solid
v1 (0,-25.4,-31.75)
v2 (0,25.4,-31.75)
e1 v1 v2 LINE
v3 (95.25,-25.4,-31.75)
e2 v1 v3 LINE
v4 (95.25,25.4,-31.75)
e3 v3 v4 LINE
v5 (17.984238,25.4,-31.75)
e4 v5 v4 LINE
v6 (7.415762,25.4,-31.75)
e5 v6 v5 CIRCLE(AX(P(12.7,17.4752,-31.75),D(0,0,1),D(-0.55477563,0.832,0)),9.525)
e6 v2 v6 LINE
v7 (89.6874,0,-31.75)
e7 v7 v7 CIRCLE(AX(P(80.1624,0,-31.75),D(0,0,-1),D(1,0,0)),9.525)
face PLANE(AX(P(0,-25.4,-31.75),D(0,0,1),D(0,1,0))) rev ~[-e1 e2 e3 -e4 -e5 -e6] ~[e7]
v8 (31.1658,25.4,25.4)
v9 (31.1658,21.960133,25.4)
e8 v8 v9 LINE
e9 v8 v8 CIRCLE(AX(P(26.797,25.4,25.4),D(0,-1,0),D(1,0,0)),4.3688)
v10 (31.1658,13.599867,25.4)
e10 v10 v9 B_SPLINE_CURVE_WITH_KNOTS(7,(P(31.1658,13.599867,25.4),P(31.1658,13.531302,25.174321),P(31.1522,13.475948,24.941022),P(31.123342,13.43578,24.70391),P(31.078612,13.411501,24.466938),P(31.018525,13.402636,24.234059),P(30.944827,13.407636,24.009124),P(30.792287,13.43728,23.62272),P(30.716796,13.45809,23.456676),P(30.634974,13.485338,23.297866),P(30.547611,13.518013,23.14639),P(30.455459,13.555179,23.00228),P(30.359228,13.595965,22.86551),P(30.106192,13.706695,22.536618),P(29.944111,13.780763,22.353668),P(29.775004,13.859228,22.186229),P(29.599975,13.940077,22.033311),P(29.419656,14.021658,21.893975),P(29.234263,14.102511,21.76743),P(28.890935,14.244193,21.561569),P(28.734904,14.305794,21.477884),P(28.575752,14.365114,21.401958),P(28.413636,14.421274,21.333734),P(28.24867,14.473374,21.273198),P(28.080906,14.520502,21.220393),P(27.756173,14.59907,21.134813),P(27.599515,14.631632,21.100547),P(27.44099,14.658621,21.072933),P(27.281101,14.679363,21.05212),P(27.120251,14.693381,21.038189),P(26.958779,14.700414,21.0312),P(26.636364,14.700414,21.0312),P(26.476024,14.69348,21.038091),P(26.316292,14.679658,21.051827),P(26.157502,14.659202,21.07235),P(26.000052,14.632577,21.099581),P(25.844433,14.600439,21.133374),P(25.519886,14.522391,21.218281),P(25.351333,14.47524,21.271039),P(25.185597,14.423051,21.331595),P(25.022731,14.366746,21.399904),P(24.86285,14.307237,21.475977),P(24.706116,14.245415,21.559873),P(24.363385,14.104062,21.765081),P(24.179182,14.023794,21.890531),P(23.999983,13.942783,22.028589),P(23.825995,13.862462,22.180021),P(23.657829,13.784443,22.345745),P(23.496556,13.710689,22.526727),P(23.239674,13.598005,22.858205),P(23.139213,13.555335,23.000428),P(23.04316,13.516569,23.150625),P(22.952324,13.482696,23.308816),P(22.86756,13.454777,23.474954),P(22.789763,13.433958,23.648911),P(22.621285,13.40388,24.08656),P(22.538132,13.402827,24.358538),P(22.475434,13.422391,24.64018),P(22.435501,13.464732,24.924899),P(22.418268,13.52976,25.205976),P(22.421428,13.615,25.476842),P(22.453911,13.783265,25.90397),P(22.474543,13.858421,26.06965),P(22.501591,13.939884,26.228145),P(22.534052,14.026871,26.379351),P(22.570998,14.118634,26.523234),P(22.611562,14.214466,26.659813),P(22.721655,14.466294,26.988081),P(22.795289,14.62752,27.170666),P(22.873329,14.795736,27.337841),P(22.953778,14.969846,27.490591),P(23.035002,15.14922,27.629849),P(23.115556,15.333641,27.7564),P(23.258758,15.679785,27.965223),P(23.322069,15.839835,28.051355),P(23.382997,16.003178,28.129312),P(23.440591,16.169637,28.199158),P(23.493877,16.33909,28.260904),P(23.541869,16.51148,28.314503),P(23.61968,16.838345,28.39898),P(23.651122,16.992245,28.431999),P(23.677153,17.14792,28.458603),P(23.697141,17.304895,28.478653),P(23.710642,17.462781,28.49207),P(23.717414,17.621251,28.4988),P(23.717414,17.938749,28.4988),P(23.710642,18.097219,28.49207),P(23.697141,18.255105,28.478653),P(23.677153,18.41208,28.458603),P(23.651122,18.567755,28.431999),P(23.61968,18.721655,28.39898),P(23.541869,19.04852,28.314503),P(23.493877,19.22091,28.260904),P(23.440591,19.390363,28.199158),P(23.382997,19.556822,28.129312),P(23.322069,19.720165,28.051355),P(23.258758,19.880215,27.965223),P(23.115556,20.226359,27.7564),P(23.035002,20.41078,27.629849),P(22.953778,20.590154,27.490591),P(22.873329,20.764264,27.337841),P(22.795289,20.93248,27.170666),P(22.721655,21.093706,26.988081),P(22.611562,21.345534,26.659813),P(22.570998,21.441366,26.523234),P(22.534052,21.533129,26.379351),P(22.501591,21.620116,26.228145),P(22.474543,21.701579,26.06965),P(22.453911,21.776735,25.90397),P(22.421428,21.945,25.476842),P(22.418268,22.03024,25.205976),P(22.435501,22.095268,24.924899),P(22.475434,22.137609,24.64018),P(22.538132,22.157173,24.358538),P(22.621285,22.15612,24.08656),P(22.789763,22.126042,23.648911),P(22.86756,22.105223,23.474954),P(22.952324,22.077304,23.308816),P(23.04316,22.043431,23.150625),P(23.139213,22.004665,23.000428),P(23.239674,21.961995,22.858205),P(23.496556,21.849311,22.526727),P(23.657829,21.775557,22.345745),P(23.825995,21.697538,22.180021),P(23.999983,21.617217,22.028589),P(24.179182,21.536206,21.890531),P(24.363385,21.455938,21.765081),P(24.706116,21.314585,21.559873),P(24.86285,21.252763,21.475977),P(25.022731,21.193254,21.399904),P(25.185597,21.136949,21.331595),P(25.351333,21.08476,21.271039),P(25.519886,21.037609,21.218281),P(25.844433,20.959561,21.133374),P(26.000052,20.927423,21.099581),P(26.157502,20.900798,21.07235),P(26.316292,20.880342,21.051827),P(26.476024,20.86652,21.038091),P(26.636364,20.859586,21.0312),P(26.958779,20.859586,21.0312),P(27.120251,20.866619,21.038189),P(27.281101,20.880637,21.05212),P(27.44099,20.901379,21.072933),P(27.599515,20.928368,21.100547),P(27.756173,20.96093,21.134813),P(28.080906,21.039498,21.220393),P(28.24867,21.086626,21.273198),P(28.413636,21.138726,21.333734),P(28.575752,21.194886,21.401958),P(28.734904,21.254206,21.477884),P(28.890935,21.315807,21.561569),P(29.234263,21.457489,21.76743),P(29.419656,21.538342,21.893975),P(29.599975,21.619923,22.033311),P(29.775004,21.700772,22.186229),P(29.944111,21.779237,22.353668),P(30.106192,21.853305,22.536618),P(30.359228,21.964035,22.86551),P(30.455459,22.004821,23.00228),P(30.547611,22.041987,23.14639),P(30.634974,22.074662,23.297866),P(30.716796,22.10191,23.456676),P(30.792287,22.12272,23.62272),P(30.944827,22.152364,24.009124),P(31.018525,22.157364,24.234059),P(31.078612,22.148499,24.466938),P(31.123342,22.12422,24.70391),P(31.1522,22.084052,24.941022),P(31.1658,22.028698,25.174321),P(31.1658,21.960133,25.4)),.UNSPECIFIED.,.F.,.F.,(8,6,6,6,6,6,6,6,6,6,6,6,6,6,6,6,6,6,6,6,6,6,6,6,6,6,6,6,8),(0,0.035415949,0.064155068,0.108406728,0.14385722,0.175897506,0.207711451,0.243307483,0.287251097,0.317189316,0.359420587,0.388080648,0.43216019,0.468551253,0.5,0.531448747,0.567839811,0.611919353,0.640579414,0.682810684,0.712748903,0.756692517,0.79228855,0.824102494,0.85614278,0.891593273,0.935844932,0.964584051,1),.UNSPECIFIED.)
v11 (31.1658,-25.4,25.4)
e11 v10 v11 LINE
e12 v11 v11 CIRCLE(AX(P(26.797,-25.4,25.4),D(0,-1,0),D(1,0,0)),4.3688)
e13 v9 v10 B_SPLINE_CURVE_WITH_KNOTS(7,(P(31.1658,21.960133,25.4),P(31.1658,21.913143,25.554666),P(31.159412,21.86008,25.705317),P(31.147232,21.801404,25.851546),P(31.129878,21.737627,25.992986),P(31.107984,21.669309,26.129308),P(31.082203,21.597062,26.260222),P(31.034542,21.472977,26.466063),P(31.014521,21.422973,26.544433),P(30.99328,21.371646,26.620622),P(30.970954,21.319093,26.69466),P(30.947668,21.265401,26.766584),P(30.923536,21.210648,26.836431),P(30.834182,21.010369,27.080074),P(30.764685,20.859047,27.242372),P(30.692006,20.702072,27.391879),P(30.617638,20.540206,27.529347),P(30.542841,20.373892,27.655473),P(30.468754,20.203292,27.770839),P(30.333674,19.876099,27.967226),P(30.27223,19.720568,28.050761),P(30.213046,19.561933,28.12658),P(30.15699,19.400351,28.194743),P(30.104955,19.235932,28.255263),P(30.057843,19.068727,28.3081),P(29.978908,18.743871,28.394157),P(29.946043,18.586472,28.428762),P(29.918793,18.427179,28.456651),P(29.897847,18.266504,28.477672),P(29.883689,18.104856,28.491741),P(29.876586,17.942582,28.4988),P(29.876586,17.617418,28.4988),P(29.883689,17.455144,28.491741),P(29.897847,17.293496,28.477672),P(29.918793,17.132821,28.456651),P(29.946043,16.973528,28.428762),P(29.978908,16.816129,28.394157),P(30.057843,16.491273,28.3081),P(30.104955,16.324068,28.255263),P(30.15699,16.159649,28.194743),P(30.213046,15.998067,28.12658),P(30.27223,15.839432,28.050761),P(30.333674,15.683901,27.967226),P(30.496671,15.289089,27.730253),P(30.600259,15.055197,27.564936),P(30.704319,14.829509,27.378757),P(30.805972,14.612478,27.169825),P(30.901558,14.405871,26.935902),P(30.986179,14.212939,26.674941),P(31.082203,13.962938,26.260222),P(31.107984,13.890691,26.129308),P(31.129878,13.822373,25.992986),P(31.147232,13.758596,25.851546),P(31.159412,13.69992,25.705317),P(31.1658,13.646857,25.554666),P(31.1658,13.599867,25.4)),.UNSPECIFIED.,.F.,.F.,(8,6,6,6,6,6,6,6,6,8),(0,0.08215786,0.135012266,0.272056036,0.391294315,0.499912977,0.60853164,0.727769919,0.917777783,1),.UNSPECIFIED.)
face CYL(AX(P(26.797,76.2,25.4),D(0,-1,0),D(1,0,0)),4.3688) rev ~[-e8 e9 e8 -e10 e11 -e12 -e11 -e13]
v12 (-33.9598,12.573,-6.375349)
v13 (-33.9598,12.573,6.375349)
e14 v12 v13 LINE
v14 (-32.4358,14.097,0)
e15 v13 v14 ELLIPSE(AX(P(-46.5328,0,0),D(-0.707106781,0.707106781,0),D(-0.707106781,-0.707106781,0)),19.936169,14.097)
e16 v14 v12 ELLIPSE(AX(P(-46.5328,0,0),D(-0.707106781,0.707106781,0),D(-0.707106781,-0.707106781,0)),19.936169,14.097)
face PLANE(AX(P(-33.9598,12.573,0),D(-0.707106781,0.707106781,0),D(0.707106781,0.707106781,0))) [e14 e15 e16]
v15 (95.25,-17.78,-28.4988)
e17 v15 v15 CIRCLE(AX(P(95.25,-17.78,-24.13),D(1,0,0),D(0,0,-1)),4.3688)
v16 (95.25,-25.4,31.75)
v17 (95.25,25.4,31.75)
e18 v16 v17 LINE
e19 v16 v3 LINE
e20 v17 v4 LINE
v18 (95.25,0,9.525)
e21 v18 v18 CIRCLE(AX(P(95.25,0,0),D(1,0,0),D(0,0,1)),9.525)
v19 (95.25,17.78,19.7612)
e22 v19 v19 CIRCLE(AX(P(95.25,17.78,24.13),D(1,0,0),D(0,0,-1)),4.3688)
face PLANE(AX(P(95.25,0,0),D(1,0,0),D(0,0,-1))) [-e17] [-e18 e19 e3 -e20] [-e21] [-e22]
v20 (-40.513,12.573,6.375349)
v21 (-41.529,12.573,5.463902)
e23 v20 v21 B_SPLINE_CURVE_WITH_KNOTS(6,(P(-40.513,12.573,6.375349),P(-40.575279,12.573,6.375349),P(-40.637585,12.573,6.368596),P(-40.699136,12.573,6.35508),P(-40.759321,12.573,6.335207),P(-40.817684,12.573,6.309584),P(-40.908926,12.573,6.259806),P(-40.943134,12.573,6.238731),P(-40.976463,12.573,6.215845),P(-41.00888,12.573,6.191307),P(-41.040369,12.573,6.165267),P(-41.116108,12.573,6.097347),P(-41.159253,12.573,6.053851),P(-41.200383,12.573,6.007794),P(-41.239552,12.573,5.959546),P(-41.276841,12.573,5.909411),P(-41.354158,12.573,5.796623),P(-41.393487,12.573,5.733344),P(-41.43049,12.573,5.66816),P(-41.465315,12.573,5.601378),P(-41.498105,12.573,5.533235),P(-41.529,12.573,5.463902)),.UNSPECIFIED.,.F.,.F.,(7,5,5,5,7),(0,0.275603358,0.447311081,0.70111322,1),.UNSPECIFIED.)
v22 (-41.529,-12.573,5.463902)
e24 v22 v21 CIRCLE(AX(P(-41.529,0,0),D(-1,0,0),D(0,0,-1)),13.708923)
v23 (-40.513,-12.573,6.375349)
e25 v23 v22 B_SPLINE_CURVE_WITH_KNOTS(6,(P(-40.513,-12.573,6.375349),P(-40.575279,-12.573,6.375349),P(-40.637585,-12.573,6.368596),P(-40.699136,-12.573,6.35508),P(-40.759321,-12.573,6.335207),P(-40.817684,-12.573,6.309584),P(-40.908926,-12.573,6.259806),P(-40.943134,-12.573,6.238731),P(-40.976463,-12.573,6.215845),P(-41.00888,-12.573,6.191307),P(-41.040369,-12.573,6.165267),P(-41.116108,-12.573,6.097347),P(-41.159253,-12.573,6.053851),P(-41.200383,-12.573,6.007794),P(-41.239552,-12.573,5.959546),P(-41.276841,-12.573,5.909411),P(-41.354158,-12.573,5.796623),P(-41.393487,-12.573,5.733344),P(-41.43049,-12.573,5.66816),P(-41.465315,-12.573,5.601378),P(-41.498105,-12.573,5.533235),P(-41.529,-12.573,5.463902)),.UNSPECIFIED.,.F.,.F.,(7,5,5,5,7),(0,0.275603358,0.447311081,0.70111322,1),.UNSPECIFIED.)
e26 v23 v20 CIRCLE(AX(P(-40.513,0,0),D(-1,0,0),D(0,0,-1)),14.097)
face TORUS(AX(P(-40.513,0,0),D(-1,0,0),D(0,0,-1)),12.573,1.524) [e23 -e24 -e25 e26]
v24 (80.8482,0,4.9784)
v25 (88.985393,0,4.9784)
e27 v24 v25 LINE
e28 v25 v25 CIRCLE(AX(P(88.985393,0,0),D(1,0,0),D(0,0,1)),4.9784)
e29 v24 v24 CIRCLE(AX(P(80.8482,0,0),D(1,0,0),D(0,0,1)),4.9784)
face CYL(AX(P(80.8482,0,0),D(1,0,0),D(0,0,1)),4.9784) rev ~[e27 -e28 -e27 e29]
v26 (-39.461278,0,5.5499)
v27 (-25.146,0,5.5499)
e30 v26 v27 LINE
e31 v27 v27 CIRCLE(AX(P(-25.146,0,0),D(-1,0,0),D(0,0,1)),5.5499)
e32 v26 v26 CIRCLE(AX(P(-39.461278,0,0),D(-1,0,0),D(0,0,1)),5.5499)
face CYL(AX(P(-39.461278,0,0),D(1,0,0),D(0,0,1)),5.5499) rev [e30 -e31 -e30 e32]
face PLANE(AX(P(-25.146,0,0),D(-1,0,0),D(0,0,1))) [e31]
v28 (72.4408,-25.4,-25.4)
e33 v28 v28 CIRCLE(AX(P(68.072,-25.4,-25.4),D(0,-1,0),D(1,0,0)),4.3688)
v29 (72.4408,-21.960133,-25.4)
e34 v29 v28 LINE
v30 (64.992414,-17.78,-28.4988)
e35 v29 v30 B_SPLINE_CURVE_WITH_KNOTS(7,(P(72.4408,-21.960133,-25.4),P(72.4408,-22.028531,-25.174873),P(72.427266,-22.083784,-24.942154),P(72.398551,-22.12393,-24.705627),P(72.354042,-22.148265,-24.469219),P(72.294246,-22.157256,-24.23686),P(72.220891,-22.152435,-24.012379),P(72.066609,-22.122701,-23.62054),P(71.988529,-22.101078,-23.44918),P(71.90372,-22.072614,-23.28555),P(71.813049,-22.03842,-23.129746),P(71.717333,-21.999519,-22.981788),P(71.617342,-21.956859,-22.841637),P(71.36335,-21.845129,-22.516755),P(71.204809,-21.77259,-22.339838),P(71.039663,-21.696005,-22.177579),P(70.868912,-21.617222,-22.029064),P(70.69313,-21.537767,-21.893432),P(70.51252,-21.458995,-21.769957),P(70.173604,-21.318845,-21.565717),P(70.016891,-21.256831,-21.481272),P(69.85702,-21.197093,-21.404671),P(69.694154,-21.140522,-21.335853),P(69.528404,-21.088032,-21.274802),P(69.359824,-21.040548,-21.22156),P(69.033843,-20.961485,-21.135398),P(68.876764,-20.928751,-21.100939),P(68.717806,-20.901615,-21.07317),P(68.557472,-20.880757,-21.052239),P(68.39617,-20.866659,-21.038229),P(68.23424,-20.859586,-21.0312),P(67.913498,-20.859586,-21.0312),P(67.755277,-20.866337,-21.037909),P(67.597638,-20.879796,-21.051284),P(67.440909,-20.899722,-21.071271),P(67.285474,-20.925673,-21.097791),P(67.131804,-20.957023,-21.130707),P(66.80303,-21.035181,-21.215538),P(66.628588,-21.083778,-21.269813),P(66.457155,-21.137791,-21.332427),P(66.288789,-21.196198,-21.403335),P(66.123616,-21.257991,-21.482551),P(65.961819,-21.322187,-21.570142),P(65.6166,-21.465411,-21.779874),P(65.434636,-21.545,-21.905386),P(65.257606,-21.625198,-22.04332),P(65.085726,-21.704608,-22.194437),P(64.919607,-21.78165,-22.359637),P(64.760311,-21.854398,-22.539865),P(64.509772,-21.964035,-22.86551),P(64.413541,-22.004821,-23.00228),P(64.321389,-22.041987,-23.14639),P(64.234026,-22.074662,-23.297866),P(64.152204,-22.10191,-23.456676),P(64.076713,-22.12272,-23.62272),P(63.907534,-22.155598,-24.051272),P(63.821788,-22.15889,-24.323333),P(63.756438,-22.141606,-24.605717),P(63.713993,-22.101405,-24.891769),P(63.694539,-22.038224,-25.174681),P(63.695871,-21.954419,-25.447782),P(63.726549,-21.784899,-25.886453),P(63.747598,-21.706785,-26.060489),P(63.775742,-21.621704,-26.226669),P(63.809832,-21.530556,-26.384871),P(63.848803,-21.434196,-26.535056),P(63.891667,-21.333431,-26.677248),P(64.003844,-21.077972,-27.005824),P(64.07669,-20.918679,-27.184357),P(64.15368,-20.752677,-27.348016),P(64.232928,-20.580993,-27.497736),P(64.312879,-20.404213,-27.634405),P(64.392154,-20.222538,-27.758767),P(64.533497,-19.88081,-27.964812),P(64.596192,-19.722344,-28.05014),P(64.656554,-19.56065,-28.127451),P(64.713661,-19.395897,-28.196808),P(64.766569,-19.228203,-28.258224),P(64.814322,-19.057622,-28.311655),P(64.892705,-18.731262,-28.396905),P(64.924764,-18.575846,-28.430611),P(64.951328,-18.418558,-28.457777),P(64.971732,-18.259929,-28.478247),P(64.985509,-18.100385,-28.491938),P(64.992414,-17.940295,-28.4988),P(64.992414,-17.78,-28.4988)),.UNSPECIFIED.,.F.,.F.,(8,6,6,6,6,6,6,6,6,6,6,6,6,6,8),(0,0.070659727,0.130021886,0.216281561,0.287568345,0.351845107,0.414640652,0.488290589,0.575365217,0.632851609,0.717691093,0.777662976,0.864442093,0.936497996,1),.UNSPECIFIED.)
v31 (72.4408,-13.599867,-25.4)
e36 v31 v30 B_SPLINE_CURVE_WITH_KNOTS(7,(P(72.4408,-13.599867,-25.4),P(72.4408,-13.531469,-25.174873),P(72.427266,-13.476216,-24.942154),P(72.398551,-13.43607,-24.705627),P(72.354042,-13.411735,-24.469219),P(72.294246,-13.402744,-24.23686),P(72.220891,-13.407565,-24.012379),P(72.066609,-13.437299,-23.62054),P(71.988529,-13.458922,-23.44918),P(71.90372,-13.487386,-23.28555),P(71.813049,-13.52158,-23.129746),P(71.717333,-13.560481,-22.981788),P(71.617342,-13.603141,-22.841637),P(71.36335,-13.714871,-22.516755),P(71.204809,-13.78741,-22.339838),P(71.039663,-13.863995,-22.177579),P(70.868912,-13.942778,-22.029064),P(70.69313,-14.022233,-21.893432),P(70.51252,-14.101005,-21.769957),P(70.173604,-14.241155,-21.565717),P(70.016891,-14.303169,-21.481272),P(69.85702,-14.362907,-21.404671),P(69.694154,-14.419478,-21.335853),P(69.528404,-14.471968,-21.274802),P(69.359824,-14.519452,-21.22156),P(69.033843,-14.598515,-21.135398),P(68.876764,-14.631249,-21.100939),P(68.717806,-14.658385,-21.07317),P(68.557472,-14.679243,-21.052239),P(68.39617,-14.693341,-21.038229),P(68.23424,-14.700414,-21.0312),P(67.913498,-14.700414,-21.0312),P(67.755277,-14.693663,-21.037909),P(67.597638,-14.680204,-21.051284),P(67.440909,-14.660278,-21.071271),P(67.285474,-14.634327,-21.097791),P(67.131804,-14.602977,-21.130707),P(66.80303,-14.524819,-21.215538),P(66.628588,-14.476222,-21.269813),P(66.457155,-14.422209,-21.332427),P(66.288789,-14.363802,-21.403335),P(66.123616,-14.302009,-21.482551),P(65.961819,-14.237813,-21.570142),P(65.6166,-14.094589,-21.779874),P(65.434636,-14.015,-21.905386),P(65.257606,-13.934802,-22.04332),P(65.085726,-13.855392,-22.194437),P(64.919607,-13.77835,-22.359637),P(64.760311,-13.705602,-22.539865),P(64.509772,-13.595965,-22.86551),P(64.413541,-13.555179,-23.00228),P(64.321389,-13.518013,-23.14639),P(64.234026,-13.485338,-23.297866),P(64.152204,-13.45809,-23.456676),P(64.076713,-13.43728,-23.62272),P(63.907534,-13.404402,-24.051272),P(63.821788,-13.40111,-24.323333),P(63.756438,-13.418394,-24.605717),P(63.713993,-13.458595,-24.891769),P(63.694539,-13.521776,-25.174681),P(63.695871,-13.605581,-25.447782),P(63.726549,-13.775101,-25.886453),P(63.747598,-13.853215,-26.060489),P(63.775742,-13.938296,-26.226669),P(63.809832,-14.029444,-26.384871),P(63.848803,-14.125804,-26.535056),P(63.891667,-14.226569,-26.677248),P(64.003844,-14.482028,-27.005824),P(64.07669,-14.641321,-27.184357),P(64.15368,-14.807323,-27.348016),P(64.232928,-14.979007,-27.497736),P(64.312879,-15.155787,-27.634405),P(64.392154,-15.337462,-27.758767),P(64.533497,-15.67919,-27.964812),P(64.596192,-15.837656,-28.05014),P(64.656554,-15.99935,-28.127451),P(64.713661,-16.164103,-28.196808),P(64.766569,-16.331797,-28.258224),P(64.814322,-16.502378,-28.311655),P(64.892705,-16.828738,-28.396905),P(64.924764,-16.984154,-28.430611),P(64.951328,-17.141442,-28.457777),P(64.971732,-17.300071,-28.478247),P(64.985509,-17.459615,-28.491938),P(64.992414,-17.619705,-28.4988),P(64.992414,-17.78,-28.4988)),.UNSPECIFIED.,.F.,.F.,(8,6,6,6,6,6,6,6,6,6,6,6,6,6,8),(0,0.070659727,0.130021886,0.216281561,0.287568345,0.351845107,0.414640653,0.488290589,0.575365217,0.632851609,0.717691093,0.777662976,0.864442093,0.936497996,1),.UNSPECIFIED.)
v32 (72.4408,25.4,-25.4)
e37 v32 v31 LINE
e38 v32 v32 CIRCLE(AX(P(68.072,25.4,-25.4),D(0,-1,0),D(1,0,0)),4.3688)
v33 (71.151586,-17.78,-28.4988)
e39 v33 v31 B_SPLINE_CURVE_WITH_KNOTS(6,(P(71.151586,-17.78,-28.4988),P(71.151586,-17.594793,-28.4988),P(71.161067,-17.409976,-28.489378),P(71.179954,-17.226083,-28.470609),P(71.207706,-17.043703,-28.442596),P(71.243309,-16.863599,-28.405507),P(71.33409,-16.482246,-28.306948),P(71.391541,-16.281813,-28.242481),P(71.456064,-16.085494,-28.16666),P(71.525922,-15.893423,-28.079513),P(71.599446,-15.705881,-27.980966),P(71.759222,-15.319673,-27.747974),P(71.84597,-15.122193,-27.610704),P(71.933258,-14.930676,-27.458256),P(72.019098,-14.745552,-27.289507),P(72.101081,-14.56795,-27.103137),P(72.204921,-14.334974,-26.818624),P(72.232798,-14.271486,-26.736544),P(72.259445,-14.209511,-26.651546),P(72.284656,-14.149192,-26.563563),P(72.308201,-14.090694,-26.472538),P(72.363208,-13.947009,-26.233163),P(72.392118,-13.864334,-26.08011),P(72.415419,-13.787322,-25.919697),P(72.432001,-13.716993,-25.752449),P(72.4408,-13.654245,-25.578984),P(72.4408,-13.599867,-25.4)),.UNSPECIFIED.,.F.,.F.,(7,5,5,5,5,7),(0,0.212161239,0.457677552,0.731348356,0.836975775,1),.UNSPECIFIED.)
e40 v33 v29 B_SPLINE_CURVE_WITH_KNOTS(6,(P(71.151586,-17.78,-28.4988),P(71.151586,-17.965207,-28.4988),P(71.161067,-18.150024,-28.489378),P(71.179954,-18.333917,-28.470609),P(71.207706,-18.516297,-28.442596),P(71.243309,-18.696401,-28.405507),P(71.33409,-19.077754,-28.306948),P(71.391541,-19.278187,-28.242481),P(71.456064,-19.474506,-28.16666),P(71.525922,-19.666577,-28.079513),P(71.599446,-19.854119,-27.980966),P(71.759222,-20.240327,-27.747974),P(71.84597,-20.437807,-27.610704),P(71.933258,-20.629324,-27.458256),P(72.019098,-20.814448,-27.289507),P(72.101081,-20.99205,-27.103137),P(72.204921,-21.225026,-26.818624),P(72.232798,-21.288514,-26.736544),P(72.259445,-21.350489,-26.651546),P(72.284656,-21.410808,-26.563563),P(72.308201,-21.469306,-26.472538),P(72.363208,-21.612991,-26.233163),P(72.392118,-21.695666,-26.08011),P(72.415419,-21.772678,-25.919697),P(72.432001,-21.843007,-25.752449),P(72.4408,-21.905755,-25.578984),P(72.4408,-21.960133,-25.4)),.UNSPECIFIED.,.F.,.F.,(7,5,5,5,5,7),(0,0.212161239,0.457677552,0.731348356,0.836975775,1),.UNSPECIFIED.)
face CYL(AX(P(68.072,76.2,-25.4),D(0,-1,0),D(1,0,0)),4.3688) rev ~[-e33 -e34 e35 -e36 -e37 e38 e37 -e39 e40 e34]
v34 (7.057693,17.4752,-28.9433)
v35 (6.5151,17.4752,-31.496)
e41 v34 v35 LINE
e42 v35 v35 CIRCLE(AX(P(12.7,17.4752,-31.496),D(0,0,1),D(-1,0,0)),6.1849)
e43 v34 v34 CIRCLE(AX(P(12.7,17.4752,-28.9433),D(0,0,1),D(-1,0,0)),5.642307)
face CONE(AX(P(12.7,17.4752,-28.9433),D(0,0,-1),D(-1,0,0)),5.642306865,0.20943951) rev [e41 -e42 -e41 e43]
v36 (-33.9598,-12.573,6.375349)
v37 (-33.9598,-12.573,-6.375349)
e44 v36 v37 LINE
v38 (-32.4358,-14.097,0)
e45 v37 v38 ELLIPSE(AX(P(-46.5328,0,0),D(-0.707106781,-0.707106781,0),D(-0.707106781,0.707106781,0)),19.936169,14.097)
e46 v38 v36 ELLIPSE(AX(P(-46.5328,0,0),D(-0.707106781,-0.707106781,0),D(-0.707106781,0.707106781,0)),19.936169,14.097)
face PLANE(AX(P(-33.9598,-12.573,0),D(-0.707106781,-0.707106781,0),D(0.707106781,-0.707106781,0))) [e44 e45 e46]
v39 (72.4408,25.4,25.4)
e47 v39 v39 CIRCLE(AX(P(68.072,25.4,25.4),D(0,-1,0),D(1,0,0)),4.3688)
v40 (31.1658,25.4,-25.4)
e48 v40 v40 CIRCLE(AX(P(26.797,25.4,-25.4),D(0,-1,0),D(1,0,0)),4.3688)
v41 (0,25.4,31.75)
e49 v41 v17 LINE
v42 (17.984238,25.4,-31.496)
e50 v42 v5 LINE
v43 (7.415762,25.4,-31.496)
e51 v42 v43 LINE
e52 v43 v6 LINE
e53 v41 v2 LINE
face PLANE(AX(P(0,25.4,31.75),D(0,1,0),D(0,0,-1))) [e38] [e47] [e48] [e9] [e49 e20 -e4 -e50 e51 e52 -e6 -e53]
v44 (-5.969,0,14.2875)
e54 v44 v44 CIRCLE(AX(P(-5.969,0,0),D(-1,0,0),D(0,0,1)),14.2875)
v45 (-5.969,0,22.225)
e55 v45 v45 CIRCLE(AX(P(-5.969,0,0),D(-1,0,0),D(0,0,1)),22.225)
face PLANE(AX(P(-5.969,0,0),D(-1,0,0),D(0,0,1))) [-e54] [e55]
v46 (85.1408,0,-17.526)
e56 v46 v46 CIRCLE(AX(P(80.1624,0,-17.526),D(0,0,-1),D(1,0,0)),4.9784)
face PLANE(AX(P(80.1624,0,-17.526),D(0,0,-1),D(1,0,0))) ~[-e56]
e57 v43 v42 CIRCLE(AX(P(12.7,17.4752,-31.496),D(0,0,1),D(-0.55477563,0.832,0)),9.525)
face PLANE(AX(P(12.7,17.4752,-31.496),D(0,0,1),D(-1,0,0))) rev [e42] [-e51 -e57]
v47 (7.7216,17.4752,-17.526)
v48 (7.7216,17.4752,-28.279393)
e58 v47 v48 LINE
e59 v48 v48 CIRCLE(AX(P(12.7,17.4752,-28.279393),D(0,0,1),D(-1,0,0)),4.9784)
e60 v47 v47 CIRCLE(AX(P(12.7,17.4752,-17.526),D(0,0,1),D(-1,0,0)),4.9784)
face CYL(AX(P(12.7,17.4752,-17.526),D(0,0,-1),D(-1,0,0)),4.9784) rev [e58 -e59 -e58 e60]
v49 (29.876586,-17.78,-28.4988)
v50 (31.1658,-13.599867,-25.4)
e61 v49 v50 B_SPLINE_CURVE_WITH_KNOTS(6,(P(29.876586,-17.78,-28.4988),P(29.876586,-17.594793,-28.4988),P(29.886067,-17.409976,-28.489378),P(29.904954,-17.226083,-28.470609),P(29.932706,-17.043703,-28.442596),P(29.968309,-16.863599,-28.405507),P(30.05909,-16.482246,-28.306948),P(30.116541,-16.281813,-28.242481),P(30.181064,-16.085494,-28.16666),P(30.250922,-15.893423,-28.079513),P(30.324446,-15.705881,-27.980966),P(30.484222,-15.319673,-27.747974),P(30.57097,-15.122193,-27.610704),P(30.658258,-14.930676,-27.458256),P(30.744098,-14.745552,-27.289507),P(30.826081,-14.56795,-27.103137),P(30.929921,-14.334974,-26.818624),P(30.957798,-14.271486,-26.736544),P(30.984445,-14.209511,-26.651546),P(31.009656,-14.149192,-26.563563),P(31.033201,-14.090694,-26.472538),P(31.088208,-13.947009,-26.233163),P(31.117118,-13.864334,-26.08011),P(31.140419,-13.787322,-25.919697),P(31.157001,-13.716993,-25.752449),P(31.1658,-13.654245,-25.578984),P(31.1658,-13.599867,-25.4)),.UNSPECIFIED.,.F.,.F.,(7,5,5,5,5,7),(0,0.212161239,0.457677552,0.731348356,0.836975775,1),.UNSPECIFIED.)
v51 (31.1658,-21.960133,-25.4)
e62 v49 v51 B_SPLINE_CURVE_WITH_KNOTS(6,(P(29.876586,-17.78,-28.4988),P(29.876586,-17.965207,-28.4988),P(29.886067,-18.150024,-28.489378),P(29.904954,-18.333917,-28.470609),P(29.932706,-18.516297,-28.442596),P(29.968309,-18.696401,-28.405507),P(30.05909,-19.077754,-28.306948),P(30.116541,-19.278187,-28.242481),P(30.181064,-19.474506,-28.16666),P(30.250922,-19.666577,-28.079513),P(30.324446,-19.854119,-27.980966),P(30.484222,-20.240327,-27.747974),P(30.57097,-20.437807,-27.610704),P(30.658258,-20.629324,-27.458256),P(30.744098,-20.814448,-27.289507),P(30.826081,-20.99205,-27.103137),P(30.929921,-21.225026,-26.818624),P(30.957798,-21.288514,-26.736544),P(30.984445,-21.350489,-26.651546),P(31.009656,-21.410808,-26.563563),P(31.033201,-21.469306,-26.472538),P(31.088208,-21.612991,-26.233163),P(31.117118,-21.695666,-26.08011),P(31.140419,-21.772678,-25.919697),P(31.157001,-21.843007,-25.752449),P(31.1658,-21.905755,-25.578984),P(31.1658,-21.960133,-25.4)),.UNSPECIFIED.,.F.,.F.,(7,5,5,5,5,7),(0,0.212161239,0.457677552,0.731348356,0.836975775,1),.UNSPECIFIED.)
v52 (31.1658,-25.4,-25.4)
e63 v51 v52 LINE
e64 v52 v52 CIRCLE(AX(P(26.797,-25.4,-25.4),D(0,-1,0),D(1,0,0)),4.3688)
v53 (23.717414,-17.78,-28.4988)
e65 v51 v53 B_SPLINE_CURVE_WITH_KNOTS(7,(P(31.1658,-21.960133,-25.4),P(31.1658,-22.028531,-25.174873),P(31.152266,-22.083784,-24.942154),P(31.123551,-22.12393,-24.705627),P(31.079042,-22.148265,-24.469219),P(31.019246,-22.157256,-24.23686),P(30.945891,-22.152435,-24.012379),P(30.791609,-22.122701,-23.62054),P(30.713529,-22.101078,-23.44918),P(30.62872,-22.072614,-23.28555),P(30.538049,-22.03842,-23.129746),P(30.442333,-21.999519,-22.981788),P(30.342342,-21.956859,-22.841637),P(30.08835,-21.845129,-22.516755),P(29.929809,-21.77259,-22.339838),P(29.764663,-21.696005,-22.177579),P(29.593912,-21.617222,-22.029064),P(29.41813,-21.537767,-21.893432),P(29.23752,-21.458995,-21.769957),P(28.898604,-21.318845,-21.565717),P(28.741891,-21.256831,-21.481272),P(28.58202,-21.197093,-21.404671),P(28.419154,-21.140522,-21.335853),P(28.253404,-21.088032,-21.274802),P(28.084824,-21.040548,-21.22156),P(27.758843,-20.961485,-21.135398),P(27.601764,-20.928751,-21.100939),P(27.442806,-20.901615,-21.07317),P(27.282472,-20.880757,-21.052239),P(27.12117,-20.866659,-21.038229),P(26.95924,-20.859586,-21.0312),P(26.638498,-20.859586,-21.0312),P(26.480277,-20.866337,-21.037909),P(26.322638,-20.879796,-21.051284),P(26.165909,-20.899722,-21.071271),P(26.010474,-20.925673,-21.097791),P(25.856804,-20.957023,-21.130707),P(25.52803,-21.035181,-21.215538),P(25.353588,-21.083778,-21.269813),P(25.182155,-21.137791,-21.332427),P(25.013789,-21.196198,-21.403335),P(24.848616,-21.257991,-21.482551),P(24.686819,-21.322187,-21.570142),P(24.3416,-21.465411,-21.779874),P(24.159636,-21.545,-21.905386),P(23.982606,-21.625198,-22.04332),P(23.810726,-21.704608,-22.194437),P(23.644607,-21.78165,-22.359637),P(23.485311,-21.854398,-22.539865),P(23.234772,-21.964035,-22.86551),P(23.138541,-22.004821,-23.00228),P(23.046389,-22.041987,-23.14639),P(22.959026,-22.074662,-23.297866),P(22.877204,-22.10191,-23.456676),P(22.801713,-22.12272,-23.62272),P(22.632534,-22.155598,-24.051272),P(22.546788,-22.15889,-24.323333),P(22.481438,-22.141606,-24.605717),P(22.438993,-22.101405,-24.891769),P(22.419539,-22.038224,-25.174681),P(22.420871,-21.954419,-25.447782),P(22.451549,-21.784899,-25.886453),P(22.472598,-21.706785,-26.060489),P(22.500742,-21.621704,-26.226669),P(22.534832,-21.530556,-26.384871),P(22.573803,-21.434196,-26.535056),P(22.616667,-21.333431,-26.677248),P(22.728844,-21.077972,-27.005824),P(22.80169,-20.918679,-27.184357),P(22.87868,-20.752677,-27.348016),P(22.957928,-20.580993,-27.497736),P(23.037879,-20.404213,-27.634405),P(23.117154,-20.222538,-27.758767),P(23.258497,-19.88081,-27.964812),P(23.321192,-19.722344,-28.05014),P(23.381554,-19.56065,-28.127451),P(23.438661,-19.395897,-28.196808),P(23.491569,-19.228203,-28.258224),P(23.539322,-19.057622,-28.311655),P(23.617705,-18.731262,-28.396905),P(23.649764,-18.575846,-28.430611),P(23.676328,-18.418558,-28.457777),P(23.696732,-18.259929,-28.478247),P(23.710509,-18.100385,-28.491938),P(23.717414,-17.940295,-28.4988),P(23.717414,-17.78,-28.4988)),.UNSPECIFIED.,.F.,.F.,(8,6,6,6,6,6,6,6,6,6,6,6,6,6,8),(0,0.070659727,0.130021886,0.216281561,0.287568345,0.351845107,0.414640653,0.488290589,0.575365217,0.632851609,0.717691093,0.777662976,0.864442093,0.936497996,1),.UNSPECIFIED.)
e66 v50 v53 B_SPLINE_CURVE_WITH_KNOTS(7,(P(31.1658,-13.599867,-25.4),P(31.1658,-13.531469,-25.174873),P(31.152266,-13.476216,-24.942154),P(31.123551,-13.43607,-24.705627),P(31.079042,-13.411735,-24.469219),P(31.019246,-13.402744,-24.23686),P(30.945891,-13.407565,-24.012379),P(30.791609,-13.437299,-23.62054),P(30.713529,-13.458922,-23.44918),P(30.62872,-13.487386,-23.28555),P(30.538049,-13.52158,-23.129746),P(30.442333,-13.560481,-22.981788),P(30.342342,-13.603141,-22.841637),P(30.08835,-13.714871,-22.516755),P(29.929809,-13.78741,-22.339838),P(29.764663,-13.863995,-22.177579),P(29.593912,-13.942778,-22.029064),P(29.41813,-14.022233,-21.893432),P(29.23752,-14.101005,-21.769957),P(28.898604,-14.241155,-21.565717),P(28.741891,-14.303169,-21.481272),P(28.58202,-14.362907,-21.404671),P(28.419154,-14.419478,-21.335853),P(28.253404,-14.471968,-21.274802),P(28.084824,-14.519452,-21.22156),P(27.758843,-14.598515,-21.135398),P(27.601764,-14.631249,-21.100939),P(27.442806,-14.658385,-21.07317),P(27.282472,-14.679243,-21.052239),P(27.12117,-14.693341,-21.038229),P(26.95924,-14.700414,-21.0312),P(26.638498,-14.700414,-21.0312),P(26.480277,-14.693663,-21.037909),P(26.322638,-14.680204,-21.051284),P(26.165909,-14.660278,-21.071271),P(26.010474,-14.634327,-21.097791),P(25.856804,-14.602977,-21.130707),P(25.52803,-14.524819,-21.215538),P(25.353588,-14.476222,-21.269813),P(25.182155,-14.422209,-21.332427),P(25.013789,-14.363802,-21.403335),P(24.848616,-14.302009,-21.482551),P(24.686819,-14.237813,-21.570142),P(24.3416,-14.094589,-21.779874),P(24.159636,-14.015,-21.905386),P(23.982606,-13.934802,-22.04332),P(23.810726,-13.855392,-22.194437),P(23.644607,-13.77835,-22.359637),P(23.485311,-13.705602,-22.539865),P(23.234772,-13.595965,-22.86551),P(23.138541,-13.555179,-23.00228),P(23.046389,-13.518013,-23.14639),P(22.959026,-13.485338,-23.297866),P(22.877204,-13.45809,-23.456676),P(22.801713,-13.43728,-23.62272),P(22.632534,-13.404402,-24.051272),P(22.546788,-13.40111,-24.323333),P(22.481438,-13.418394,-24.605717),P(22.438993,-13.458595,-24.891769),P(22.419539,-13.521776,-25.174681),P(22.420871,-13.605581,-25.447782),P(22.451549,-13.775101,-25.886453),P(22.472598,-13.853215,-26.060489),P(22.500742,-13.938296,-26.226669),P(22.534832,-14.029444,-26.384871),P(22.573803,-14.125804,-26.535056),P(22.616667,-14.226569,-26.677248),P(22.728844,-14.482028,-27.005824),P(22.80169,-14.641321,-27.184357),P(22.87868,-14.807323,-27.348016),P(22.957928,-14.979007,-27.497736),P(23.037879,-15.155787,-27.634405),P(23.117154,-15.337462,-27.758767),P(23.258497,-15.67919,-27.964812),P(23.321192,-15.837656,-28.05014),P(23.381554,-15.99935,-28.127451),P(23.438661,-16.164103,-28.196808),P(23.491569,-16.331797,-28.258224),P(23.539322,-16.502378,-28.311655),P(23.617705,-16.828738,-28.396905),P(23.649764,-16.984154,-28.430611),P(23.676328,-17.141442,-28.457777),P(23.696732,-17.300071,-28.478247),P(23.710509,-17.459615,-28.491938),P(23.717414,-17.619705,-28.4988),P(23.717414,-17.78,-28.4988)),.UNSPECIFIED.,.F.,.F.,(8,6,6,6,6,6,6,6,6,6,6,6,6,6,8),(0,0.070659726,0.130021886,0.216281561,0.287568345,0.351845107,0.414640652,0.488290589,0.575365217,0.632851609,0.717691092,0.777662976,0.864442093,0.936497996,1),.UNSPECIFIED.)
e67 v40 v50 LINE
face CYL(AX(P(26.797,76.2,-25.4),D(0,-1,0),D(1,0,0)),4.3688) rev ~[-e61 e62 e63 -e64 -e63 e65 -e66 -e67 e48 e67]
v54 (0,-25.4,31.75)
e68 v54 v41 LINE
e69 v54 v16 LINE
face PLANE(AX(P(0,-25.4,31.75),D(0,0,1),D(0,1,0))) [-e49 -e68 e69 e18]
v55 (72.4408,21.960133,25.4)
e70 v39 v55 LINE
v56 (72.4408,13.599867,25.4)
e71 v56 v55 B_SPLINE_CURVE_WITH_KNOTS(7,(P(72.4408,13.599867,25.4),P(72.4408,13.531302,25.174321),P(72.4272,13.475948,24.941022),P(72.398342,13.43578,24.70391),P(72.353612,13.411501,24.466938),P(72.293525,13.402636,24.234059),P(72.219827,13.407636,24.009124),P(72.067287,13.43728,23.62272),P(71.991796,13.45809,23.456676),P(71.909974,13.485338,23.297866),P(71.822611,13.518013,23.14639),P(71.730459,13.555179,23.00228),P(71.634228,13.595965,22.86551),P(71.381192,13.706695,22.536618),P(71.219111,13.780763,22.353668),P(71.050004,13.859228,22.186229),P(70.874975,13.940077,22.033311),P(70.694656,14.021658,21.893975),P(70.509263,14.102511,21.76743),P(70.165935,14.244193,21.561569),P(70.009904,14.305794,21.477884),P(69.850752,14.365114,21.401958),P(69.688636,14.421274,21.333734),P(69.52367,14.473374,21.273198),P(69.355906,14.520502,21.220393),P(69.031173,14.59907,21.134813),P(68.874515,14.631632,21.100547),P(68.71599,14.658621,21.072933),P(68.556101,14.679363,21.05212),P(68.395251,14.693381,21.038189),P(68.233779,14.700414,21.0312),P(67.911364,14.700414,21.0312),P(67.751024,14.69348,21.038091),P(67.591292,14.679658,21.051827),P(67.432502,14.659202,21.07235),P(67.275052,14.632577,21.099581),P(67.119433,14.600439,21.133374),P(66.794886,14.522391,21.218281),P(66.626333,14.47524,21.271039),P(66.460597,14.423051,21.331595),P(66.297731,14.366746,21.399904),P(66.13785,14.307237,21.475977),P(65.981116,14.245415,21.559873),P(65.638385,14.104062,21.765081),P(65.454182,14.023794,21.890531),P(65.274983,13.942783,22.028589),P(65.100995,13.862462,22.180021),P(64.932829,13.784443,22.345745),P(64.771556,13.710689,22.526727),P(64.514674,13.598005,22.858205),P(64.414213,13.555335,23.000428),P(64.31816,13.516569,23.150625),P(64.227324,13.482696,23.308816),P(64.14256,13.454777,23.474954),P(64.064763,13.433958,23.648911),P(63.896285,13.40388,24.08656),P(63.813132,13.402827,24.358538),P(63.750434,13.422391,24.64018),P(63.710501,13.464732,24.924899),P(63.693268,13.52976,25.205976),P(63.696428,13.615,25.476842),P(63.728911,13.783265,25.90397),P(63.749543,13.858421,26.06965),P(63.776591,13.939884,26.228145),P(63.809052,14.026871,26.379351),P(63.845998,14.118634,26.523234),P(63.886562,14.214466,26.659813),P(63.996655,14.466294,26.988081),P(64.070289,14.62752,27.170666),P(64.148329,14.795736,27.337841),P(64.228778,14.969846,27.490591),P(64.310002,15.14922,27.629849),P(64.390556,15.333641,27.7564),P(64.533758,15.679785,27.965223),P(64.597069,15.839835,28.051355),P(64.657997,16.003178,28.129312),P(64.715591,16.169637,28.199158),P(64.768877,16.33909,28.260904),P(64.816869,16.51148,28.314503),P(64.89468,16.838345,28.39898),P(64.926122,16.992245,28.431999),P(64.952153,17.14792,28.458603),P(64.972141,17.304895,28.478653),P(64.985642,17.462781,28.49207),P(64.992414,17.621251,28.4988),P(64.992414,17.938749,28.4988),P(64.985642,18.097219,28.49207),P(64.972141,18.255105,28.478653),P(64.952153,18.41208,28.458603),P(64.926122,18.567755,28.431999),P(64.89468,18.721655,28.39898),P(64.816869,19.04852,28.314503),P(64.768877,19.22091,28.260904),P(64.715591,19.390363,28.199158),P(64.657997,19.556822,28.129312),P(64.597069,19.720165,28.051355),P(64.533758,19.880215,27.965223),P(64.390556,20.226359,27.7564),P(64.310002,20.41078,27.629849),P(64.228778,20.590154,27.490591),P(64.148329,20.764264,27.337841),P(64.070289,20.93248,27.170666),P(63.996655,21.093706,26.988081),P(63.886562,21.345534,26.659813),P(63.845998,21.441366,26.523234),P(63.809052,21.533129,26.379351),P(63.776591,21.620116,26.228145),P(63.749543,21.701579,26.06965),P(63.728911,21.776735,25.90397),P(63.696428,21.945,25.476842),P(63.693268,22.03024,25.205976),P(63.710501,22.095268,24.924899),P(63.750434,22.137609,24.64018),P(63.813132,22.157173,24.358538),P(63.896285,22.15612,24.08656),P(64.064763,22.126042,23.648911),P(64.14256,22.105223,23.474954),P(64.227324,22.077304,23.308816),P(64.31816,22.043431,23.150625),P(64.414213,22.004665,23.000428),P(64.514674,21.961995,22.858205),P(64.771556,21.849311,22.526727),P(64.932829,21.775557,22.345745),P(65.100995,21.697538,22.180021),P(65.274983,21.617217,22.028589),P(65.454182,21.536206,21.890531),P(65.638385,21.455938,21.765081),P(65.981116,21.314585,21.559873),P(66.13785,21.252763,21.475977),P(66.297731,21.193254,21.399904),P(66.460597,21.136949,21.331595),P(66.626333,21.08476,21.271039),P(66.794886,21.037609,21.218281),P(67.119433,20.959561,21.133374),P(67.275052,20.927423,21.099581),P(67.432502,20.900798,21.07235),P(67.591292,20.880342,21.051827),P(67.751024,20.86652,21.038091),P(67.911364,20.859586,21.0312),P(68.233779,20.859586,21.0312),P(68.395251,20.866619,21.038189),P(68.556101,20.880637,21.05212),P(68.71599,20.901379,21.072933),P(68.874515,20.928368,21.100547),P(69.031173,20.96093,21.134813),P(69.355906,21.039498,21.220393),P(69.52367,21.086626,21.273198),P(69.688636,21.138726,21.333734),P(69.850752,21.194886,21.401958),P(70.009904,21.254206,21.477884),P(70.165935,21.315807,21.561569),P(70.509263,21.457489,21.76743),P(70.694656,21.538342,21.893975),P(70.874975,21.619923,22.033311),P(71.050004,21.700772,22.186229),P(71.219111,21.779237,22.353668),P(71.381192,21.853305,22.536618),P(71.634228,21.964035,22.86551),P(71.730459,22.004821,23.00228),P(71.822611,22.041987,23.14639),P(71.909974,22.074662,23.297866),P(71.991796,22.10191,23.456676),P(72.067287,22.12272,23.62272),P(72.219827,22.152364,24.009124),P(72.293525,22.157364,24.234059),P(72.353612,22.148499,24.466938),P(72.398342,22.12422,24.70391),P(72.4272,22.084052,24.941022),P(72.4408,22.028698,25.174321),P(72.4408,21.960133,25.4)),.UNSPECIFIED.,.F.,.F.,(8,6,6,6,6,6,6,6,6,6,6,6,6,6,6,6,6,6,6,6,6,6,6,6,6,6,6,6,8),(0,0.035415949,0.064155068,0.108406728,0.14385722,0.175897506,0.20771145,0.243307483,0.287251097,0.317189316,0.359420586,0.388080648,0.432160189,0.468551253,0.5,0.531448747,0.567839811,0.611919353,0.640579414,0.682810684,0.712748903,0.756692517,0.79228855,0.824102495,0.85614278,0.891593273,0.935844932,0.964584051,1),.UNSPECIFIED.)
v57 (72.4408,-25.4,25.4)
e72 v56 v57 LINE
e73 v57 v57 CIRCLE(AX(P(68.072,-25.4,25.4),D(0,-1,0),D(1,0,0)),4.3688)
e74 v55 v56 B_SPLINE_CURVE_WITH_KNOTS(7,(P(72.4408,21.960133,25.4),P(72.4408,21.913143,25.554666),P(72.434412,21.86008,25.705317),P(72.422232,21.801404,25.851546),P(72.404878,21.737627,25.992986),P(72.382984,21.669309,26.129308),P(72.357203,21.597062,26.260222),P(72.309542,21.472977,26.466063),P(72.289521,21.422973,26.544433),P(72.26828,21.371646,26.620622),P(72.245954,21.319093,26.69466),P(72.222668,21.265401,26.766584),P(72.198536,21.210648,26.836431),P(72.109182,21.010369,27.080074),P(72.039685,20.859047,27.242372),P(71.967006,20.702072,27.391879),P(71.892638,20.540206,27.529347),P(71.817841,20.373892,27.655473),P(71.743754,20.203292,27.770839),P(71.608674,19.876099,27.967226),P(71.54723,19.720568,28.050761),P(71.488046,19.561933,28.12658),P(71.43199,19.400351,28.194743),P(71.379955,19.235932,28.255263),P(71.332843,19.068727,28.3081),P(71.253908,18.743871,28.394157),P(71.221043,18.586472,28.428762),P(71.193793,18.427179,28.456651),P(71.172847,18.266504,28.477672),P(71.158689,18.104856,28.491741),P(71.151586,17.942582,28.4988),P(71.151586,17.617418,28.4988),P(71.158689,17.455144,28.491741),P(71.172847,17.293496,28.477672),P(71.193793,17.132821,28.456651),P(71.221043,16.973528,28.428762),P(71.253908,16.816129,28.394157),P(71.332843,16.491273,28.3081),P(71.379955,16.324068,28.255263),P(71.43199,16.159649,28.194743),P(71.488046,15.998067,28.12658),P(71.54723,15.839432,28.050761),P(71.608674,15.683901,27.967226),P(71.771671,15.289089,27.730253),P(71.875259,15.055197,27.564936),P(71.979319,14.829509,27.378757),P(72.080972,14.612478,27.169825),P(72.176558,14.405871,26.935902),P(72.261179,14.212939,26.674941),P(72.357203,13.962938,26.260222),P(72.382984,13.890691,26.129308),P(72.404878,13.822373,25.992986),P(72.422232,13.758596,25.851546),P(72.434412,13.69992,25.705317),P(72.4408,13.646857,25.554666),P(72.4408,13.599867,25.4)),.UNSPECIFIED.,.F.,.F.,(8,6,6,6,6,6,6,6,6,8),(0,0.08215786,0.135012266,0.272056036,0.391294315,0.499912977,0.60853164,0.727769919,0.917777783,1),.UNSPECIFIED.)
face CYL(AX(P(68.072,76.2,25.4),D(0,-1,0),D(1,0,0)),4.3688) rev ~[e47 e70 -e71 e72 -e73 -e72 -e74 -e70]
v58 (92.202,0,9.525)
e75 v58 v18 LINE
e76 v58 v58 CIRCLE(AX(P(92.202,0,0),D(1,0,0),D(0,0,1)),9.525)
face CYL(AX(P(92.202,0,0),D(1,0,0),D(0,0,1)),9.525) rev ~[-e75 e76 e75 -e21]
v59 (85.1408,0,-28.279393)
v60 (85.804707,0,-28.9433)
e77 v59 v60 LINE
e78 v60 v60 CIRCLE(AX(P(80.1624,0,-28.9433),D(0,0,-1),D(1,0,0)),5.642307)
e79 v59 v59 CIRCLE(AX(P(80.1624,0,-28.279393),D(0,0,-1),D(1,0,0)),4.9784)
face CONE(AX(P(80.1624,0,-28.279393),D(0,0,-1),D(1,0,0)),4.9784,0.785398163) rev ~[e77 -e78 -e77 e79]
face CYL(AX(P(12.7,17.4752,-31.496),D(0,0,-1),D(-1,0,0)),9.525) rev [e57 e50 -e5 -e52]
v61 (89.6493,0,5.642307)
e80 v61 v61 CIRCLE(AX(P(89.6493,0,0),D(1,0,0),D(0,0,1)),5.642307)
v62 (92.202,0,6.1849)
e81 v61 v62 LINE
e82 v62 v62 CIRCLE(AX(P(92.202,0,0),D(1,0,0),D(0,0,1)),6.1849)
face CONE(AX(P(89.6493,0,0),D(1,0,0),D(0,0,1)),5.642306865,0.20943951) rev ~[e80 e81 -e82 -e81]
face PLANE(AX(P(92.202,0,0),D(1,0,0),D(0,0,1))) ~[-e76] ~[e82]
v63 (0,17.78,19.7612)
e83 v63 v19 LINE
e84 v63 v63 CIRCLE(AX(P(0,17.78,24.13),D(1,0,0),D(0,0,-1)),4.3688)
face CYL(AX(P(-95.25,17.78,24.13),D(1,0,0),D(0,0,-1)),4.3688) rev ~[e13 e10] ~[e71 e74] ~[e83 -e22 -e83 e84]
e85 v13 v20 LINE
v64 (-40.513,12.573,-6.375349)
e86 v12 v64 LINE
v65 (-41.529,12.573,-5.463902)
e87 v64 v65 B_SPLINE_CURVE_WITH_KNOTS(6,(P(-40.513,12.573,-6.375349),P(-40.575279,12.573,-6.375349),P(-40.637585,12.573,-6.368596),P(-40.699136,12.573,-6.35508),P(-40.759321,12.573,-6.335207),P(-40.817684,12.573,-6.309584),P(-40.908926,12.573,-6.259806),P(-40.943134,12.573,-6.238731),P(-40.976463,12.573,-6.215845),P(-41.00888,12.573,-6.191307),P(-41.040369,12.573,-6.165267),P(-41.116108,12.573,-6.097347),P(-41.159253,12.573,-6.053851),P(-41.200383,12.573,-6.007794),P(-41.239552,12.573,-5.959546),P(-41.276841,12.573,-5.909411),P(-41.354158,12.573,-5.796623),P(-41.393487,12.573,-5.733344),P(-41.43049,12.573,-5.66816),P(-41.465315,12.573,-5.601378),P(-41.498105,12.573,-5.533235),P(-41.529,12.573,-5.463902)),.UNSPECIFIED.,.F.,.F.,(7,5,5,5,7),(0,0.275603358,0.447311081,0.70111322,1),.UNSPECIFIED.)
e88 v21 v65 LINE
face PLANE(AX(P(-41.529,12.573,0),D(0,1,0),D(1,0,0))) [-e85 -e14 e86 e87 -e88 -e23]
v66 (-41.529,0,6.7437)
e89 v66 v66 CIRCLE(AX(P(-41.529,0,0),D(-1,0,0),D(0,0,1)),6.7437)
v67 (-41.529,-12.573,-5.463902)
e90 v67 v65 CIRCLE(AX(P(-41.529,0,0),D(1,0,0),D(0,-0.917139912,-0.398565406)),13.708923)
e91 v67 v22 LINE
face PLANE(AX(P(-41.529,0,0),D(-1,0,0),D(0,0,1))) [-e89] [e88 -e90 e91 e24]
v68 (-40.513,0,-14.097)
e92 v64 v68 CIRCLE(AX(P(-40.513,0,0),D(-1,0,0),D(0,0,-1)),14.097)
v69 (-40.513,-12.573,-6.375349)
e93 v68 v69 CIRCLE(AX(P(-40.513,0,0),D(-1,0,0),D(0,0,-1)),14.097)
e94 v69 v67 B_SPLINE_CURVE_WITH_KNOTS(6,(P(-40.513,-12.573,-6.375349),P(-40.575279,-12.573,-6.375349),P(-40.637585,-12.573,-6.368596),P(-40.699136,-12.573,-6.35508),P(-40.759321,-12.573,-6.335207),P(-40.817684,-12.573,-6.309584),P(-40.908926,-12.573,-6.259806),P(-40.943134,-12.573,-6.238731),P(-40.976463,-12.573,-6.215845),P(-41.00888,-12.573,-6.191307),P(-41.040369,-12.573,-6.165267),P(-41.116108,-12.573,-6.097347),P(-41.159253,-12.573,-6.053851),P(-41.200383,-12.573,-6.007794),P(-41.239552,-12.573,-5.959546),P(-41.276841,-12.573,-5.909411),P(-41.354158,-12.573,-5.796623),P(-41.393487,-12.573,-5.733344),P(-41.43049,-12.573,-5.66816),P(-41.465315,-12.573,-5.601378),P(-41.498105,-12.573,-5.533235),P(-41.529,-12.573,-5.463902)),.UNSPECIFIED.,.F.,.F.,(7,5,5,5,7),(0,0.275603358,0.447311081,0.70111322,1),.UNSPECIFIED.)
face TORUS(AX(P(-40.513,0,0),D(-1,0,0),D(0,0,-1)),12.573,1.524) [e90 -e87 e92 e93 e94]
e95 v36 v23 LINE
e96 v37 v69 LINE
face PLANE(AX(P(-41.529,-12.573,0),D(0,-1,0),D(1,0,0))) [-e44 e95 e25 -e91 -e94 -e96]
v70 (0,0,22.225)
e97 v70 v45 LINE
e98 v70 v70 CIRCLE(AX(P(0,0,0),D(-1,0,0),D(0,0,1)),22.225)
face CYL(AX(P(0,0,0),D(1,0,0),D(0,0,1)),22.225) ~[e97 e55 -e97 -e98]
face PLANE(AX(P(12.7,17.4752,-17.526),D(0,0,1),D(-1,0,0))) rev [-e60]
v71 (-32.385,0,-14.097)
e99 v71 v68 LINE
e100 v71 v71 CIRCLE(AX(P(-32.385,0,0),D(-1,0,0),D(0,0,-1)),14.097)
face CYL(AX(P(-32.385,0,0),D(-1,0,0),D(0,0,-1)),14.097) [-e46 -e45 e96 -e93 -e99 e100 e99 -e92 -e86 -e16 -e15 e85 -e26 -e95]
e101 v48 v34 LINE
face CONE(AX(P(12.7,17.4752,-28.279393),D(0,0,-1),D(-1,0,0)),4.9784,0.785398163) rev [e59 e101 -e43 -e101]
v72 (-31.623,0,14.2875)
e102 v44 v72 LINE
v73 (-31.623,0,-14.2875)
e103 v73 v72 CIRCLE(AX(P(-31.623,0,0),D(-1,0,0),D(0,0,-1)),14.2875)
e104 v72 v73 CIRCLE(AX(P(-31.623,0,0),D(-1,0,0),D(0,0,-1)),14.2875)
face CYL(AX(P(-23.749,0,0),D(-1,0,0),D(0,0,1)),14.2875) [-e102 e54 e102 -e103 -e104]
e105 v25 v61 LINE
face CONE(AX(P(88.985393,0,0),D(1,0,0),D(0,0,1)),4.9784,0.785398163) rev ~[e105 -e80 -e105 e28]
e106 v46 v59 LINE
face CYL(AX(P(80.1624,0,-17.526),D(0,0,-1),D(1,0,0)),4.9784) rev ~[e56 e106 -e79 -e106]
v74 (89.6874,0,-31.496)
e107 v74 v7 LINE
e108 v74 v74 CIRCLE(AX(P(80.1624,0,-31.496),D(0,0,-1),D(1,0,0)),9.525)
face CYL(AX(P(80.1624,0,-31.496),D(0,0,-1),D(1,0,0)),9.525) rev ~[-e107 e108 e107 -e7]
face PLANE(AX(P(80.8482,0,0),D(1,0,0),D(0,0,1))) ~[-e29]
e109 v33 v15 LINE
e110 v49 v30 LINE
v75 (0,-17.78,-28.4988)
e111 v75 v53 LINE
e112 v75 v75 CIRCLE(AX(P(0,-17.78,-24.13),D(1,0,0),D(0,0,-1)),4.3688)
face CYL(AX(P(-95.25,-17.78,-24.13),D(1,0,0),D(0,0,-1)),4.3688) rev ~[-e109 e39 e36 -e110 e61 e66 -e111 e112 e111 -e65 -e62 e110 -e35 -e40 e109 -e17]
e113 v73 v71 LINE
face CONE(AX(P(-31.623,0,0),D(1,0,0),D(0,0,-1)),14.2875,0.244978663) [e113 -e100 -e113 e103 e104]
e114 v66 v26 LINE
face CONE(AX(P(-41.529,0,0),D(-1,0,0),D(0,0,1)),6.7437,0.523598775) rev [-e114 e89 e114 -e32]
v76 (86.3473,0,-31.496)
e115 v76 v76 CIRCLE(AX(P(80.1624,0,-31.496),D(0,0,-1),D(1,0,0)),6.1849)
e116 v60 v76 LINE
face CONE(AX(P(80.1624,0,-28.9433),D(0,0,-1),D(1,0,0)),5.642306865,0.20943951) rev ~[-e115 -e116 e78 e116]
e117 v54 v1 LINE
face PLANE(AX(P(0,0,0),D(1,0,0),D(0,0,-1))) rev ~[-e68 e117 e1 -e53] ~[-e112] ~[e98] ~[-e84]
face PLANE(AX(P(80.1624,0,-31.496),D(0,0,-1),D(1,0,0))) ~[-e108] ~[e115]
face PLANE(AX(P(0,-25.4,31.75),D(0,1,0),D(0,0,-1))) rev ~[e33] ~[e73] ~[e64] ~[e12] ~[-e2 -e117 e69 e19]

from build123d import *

# Parameters (mm, degrees)
SKETCH1_W          = 63.5
SKETCH1_H          = 50.8
EXTRUDE1_DEPTH     = 95.25
SKETCH5_R          = 22.225
EXTRUDE2_DEPTH     = 5.969
SKETCH6_W          = 14.2875
SKETCH6_H          = 35.56
CUT_EXTRUDE4_DEPTH = 30.48
HOLE1_D            = 8.7376
HOLE1_DEPTH        = 95.25
HOLE2_D            = 8.7376
HOLE2_DEPTH        = 50.8
LPATTERN1_COUNT    = 2
LPATTERN1_PITCH    = 41.275


with BuildPart() as part:
    # Sketch1 → Extrude1 (new body)
    with BuildSketch(Plane(origin=(0, 0, 0), x_dir=(0, 0, -1), z_dir=(1, 0, 0))):
        Rectangle(SKETCH1_W, SKETCH1_H)
    extrude(amount=EXTRUDE1_DEPTH)

    # S2D0002 → Cut-Revolve1 (revolve, cut)
    with BuildSketch(Plane(origin=(0, 17.4752, 0), x_dir=(-1, 0, 0), z_dir=(0, 1, 0)), mode=Mode.PRIVATE) as cut_revolve1_sk:
        Polygon((-18.8849, -31.496), (-22.225, -31.496), (-22.225, -31.75), (-12.7, -31.75), (-12.7, -17.526), (-17.6784, -17.526), (-17.6784, -28.279393135), (-18.342306865, -28.9433), align=None)
    revolve(cut_revolve1_sk.sketch.rotate(Axis((12.7, 17.4752, -19.13842003), (0, 0, 1)), 180), axis=Axis((12.7, 17.4752, -19.13842003), (0, 0, 1)), mode=Mode.SUBTRACT)  # turned: the seam where the file's is

    # Sketch3 → Cut-Revolve2 (revolve, cut)
    with BuildSketch(Plane(origin=(41.148, 0, -25.146), x_dir=(1, 0, 0), z_dir=(0, 1, 0))):
        Polygon((45.1993, 6.35), (48.5394, 6.35), (48.5394, 6.604), (39.0144, 6.604), (39.0144, -7.62), (43.9928, -7.62), (43.9928, 3.133393135), (44.656706865, 3.7973), align=None)
    revolve(axis=Axis((80.1624, 0, -3.189624441), (0, 0, -1)), mode=Mode.SUBTRACT)

    # Sketch4 → Cut-Revolve3 (revolve, cut)
    with BuildSketch(Plane(origin=(53.975, 0, 0), x_dir=(0, -1, 0), z_dir=(0, 0, 1)), mode=Mode.PRIVATE) as cut_revolve3_sk:
        Polygon((6.1849, 38.227), (9.525, 38.227), (9.525, 41.275), (0, 41.275), (0, 26.8732), (4.9784, 26.8732), (4.9784, 35.010393135), (5.642306865, 35.6743), align=None)
    revolve(cut_revolve3_sk.sketch.rotate(Axis((38.879609832, 0, 0), (1, 0, 0)), 270), axis=Axis((38.879609832, 0, 0), (1, 0, 0)), mode=Mode.SUBTRACT)  # turned: the seam where the file's is

    # Sketch5 → Extrude2 (add)
    with BuildSketch(Plane.ZY):
        Circle(SKETCH5_R)
    extrude(amount=EXTRUDE2_DEPTH)

    # Sketch6 → Revolve1 (revolve)
    with BuildSketch(Plane(origin=(0, 0, 0), x_dir=(0, 0, 1), z_dir=(0, -1, 0)), mode=Mode.PRIVATE) as revolve1_sk:
        with Locations((-7.14375, 23.749)):
            Rectangle(SKETCH6_W, SKETCH6_H)
    revolve(revolve1_sk.sketch.rotate(Axis((5.754582971, 0, 0), (-1, 0, 0)), 180), axis=Axis((5.754582971, 0, 0), (-1, 0, 0)))  # turned: the seam where the file's is

    # S2D0001 → Cut-Revolve4 (revolve, cut)
    with BuildSketch(Plane(origin=(-18.511260017, 3.2639, 0), x_dir=(0, 1, 0), z_dir=(0, 0, 1)), mode=Mode.PRIVATE) as cut_revolve4_sk:
        Polygon((2.286, 20.950017728), (2.286, 6.634739983), (-3.2639, 6.634739983), (-3.2639, 23.017739983), (3.4798, 23.017739983), align=None)
    revolve(cut_revolve4_sk.sketch.rotate(Axis((0, 0, 0), (-1, 0, 0)), 270), axis=Axis((0, 0, 0), (-1, 0, 0)), mode=Mode.SUBTRACT)  # turned: the seam where the file's is

    # Sketch8 → Cut-Revolve5 (revolve, cut)
    with BuildSketch(Plane(origin=(0, 0, 0), x_dir=(0, 0, -1), z_dir=(0, 1, 0)), mode=Mode.PRIVATE) as cut_revolve5_sk:
        with BuildLine():
            Line((-14.2875, 31.623), (-14.097, 32.385))
            Line((-14.097, 32.385), (-14.097, 40.513))
            ThreePointArc((-14.097, 40.513), (-13.996678675, 41.056796865), (-13.708922533, 41.529))
            Line((-13.708922533, 41.529), (-14.2875, 41.529))
            Line((-14.2875, 41.529), (-14.2875, 31.623))
        make_face()
    revolve(cut_revolve5_sk.sketch.rotate(Axis((-12.65936, 0, 0), (-1, 0, 0)), 180), axis=Axis((-12.65936, 0, 0), (-1, 0, 0)), mode=Mode.SUBTRACT)  # turned: the seam where the file's is

    # Sketch12 → Cut-Extrude4 (cut, symmetric)
    with BuildSketch(Plane(origin=(0, 0, 0), x_dir=(0, -1, 0), z_dir=(0, 0, -1))):
        Polygon((12.573, 41.529), (12.573, 33.9598), (14.097, 32.4358), (14.097, 41.529), align=None)
        Polygon((-12.573, 41.529), (-12.573, 33.9598), (-14.097, 32.4358), (-14.097, 41.529), align=None)
    extrude(amount=CUT_EXTRUDE4_DEPTH, both=True, mode=Mode.SUBTRACT)

    # Hole1
    with Locations(Plane.ZY):
        with Locations((-24.13, -17.78), (24.13, 17.78)):
            Hole(HOLE1_D / 2, depth=HOLE1_DEPTH)

    # Hole2
    with Locations(Plane(origin=(0, 25.4, 0), x_dir=(-1, 0, 0), z_dir=(0, 1, 0))):
        with Locations((-26.797, -25.4), (-26.797, 25.4)):
            hole2 = Hole(HOLE2_D / 2, depth=HOLE2_DEPTH)

    # LPattern1: Hole2 ×2
    with Locations(*[(i * LPATTERN1_PITCH, 0, 0) for i in range(1, LPATTERN1_COUNT)]):
        add(hole2, mode=Mode.SUBTRACT)


solid = part.part
